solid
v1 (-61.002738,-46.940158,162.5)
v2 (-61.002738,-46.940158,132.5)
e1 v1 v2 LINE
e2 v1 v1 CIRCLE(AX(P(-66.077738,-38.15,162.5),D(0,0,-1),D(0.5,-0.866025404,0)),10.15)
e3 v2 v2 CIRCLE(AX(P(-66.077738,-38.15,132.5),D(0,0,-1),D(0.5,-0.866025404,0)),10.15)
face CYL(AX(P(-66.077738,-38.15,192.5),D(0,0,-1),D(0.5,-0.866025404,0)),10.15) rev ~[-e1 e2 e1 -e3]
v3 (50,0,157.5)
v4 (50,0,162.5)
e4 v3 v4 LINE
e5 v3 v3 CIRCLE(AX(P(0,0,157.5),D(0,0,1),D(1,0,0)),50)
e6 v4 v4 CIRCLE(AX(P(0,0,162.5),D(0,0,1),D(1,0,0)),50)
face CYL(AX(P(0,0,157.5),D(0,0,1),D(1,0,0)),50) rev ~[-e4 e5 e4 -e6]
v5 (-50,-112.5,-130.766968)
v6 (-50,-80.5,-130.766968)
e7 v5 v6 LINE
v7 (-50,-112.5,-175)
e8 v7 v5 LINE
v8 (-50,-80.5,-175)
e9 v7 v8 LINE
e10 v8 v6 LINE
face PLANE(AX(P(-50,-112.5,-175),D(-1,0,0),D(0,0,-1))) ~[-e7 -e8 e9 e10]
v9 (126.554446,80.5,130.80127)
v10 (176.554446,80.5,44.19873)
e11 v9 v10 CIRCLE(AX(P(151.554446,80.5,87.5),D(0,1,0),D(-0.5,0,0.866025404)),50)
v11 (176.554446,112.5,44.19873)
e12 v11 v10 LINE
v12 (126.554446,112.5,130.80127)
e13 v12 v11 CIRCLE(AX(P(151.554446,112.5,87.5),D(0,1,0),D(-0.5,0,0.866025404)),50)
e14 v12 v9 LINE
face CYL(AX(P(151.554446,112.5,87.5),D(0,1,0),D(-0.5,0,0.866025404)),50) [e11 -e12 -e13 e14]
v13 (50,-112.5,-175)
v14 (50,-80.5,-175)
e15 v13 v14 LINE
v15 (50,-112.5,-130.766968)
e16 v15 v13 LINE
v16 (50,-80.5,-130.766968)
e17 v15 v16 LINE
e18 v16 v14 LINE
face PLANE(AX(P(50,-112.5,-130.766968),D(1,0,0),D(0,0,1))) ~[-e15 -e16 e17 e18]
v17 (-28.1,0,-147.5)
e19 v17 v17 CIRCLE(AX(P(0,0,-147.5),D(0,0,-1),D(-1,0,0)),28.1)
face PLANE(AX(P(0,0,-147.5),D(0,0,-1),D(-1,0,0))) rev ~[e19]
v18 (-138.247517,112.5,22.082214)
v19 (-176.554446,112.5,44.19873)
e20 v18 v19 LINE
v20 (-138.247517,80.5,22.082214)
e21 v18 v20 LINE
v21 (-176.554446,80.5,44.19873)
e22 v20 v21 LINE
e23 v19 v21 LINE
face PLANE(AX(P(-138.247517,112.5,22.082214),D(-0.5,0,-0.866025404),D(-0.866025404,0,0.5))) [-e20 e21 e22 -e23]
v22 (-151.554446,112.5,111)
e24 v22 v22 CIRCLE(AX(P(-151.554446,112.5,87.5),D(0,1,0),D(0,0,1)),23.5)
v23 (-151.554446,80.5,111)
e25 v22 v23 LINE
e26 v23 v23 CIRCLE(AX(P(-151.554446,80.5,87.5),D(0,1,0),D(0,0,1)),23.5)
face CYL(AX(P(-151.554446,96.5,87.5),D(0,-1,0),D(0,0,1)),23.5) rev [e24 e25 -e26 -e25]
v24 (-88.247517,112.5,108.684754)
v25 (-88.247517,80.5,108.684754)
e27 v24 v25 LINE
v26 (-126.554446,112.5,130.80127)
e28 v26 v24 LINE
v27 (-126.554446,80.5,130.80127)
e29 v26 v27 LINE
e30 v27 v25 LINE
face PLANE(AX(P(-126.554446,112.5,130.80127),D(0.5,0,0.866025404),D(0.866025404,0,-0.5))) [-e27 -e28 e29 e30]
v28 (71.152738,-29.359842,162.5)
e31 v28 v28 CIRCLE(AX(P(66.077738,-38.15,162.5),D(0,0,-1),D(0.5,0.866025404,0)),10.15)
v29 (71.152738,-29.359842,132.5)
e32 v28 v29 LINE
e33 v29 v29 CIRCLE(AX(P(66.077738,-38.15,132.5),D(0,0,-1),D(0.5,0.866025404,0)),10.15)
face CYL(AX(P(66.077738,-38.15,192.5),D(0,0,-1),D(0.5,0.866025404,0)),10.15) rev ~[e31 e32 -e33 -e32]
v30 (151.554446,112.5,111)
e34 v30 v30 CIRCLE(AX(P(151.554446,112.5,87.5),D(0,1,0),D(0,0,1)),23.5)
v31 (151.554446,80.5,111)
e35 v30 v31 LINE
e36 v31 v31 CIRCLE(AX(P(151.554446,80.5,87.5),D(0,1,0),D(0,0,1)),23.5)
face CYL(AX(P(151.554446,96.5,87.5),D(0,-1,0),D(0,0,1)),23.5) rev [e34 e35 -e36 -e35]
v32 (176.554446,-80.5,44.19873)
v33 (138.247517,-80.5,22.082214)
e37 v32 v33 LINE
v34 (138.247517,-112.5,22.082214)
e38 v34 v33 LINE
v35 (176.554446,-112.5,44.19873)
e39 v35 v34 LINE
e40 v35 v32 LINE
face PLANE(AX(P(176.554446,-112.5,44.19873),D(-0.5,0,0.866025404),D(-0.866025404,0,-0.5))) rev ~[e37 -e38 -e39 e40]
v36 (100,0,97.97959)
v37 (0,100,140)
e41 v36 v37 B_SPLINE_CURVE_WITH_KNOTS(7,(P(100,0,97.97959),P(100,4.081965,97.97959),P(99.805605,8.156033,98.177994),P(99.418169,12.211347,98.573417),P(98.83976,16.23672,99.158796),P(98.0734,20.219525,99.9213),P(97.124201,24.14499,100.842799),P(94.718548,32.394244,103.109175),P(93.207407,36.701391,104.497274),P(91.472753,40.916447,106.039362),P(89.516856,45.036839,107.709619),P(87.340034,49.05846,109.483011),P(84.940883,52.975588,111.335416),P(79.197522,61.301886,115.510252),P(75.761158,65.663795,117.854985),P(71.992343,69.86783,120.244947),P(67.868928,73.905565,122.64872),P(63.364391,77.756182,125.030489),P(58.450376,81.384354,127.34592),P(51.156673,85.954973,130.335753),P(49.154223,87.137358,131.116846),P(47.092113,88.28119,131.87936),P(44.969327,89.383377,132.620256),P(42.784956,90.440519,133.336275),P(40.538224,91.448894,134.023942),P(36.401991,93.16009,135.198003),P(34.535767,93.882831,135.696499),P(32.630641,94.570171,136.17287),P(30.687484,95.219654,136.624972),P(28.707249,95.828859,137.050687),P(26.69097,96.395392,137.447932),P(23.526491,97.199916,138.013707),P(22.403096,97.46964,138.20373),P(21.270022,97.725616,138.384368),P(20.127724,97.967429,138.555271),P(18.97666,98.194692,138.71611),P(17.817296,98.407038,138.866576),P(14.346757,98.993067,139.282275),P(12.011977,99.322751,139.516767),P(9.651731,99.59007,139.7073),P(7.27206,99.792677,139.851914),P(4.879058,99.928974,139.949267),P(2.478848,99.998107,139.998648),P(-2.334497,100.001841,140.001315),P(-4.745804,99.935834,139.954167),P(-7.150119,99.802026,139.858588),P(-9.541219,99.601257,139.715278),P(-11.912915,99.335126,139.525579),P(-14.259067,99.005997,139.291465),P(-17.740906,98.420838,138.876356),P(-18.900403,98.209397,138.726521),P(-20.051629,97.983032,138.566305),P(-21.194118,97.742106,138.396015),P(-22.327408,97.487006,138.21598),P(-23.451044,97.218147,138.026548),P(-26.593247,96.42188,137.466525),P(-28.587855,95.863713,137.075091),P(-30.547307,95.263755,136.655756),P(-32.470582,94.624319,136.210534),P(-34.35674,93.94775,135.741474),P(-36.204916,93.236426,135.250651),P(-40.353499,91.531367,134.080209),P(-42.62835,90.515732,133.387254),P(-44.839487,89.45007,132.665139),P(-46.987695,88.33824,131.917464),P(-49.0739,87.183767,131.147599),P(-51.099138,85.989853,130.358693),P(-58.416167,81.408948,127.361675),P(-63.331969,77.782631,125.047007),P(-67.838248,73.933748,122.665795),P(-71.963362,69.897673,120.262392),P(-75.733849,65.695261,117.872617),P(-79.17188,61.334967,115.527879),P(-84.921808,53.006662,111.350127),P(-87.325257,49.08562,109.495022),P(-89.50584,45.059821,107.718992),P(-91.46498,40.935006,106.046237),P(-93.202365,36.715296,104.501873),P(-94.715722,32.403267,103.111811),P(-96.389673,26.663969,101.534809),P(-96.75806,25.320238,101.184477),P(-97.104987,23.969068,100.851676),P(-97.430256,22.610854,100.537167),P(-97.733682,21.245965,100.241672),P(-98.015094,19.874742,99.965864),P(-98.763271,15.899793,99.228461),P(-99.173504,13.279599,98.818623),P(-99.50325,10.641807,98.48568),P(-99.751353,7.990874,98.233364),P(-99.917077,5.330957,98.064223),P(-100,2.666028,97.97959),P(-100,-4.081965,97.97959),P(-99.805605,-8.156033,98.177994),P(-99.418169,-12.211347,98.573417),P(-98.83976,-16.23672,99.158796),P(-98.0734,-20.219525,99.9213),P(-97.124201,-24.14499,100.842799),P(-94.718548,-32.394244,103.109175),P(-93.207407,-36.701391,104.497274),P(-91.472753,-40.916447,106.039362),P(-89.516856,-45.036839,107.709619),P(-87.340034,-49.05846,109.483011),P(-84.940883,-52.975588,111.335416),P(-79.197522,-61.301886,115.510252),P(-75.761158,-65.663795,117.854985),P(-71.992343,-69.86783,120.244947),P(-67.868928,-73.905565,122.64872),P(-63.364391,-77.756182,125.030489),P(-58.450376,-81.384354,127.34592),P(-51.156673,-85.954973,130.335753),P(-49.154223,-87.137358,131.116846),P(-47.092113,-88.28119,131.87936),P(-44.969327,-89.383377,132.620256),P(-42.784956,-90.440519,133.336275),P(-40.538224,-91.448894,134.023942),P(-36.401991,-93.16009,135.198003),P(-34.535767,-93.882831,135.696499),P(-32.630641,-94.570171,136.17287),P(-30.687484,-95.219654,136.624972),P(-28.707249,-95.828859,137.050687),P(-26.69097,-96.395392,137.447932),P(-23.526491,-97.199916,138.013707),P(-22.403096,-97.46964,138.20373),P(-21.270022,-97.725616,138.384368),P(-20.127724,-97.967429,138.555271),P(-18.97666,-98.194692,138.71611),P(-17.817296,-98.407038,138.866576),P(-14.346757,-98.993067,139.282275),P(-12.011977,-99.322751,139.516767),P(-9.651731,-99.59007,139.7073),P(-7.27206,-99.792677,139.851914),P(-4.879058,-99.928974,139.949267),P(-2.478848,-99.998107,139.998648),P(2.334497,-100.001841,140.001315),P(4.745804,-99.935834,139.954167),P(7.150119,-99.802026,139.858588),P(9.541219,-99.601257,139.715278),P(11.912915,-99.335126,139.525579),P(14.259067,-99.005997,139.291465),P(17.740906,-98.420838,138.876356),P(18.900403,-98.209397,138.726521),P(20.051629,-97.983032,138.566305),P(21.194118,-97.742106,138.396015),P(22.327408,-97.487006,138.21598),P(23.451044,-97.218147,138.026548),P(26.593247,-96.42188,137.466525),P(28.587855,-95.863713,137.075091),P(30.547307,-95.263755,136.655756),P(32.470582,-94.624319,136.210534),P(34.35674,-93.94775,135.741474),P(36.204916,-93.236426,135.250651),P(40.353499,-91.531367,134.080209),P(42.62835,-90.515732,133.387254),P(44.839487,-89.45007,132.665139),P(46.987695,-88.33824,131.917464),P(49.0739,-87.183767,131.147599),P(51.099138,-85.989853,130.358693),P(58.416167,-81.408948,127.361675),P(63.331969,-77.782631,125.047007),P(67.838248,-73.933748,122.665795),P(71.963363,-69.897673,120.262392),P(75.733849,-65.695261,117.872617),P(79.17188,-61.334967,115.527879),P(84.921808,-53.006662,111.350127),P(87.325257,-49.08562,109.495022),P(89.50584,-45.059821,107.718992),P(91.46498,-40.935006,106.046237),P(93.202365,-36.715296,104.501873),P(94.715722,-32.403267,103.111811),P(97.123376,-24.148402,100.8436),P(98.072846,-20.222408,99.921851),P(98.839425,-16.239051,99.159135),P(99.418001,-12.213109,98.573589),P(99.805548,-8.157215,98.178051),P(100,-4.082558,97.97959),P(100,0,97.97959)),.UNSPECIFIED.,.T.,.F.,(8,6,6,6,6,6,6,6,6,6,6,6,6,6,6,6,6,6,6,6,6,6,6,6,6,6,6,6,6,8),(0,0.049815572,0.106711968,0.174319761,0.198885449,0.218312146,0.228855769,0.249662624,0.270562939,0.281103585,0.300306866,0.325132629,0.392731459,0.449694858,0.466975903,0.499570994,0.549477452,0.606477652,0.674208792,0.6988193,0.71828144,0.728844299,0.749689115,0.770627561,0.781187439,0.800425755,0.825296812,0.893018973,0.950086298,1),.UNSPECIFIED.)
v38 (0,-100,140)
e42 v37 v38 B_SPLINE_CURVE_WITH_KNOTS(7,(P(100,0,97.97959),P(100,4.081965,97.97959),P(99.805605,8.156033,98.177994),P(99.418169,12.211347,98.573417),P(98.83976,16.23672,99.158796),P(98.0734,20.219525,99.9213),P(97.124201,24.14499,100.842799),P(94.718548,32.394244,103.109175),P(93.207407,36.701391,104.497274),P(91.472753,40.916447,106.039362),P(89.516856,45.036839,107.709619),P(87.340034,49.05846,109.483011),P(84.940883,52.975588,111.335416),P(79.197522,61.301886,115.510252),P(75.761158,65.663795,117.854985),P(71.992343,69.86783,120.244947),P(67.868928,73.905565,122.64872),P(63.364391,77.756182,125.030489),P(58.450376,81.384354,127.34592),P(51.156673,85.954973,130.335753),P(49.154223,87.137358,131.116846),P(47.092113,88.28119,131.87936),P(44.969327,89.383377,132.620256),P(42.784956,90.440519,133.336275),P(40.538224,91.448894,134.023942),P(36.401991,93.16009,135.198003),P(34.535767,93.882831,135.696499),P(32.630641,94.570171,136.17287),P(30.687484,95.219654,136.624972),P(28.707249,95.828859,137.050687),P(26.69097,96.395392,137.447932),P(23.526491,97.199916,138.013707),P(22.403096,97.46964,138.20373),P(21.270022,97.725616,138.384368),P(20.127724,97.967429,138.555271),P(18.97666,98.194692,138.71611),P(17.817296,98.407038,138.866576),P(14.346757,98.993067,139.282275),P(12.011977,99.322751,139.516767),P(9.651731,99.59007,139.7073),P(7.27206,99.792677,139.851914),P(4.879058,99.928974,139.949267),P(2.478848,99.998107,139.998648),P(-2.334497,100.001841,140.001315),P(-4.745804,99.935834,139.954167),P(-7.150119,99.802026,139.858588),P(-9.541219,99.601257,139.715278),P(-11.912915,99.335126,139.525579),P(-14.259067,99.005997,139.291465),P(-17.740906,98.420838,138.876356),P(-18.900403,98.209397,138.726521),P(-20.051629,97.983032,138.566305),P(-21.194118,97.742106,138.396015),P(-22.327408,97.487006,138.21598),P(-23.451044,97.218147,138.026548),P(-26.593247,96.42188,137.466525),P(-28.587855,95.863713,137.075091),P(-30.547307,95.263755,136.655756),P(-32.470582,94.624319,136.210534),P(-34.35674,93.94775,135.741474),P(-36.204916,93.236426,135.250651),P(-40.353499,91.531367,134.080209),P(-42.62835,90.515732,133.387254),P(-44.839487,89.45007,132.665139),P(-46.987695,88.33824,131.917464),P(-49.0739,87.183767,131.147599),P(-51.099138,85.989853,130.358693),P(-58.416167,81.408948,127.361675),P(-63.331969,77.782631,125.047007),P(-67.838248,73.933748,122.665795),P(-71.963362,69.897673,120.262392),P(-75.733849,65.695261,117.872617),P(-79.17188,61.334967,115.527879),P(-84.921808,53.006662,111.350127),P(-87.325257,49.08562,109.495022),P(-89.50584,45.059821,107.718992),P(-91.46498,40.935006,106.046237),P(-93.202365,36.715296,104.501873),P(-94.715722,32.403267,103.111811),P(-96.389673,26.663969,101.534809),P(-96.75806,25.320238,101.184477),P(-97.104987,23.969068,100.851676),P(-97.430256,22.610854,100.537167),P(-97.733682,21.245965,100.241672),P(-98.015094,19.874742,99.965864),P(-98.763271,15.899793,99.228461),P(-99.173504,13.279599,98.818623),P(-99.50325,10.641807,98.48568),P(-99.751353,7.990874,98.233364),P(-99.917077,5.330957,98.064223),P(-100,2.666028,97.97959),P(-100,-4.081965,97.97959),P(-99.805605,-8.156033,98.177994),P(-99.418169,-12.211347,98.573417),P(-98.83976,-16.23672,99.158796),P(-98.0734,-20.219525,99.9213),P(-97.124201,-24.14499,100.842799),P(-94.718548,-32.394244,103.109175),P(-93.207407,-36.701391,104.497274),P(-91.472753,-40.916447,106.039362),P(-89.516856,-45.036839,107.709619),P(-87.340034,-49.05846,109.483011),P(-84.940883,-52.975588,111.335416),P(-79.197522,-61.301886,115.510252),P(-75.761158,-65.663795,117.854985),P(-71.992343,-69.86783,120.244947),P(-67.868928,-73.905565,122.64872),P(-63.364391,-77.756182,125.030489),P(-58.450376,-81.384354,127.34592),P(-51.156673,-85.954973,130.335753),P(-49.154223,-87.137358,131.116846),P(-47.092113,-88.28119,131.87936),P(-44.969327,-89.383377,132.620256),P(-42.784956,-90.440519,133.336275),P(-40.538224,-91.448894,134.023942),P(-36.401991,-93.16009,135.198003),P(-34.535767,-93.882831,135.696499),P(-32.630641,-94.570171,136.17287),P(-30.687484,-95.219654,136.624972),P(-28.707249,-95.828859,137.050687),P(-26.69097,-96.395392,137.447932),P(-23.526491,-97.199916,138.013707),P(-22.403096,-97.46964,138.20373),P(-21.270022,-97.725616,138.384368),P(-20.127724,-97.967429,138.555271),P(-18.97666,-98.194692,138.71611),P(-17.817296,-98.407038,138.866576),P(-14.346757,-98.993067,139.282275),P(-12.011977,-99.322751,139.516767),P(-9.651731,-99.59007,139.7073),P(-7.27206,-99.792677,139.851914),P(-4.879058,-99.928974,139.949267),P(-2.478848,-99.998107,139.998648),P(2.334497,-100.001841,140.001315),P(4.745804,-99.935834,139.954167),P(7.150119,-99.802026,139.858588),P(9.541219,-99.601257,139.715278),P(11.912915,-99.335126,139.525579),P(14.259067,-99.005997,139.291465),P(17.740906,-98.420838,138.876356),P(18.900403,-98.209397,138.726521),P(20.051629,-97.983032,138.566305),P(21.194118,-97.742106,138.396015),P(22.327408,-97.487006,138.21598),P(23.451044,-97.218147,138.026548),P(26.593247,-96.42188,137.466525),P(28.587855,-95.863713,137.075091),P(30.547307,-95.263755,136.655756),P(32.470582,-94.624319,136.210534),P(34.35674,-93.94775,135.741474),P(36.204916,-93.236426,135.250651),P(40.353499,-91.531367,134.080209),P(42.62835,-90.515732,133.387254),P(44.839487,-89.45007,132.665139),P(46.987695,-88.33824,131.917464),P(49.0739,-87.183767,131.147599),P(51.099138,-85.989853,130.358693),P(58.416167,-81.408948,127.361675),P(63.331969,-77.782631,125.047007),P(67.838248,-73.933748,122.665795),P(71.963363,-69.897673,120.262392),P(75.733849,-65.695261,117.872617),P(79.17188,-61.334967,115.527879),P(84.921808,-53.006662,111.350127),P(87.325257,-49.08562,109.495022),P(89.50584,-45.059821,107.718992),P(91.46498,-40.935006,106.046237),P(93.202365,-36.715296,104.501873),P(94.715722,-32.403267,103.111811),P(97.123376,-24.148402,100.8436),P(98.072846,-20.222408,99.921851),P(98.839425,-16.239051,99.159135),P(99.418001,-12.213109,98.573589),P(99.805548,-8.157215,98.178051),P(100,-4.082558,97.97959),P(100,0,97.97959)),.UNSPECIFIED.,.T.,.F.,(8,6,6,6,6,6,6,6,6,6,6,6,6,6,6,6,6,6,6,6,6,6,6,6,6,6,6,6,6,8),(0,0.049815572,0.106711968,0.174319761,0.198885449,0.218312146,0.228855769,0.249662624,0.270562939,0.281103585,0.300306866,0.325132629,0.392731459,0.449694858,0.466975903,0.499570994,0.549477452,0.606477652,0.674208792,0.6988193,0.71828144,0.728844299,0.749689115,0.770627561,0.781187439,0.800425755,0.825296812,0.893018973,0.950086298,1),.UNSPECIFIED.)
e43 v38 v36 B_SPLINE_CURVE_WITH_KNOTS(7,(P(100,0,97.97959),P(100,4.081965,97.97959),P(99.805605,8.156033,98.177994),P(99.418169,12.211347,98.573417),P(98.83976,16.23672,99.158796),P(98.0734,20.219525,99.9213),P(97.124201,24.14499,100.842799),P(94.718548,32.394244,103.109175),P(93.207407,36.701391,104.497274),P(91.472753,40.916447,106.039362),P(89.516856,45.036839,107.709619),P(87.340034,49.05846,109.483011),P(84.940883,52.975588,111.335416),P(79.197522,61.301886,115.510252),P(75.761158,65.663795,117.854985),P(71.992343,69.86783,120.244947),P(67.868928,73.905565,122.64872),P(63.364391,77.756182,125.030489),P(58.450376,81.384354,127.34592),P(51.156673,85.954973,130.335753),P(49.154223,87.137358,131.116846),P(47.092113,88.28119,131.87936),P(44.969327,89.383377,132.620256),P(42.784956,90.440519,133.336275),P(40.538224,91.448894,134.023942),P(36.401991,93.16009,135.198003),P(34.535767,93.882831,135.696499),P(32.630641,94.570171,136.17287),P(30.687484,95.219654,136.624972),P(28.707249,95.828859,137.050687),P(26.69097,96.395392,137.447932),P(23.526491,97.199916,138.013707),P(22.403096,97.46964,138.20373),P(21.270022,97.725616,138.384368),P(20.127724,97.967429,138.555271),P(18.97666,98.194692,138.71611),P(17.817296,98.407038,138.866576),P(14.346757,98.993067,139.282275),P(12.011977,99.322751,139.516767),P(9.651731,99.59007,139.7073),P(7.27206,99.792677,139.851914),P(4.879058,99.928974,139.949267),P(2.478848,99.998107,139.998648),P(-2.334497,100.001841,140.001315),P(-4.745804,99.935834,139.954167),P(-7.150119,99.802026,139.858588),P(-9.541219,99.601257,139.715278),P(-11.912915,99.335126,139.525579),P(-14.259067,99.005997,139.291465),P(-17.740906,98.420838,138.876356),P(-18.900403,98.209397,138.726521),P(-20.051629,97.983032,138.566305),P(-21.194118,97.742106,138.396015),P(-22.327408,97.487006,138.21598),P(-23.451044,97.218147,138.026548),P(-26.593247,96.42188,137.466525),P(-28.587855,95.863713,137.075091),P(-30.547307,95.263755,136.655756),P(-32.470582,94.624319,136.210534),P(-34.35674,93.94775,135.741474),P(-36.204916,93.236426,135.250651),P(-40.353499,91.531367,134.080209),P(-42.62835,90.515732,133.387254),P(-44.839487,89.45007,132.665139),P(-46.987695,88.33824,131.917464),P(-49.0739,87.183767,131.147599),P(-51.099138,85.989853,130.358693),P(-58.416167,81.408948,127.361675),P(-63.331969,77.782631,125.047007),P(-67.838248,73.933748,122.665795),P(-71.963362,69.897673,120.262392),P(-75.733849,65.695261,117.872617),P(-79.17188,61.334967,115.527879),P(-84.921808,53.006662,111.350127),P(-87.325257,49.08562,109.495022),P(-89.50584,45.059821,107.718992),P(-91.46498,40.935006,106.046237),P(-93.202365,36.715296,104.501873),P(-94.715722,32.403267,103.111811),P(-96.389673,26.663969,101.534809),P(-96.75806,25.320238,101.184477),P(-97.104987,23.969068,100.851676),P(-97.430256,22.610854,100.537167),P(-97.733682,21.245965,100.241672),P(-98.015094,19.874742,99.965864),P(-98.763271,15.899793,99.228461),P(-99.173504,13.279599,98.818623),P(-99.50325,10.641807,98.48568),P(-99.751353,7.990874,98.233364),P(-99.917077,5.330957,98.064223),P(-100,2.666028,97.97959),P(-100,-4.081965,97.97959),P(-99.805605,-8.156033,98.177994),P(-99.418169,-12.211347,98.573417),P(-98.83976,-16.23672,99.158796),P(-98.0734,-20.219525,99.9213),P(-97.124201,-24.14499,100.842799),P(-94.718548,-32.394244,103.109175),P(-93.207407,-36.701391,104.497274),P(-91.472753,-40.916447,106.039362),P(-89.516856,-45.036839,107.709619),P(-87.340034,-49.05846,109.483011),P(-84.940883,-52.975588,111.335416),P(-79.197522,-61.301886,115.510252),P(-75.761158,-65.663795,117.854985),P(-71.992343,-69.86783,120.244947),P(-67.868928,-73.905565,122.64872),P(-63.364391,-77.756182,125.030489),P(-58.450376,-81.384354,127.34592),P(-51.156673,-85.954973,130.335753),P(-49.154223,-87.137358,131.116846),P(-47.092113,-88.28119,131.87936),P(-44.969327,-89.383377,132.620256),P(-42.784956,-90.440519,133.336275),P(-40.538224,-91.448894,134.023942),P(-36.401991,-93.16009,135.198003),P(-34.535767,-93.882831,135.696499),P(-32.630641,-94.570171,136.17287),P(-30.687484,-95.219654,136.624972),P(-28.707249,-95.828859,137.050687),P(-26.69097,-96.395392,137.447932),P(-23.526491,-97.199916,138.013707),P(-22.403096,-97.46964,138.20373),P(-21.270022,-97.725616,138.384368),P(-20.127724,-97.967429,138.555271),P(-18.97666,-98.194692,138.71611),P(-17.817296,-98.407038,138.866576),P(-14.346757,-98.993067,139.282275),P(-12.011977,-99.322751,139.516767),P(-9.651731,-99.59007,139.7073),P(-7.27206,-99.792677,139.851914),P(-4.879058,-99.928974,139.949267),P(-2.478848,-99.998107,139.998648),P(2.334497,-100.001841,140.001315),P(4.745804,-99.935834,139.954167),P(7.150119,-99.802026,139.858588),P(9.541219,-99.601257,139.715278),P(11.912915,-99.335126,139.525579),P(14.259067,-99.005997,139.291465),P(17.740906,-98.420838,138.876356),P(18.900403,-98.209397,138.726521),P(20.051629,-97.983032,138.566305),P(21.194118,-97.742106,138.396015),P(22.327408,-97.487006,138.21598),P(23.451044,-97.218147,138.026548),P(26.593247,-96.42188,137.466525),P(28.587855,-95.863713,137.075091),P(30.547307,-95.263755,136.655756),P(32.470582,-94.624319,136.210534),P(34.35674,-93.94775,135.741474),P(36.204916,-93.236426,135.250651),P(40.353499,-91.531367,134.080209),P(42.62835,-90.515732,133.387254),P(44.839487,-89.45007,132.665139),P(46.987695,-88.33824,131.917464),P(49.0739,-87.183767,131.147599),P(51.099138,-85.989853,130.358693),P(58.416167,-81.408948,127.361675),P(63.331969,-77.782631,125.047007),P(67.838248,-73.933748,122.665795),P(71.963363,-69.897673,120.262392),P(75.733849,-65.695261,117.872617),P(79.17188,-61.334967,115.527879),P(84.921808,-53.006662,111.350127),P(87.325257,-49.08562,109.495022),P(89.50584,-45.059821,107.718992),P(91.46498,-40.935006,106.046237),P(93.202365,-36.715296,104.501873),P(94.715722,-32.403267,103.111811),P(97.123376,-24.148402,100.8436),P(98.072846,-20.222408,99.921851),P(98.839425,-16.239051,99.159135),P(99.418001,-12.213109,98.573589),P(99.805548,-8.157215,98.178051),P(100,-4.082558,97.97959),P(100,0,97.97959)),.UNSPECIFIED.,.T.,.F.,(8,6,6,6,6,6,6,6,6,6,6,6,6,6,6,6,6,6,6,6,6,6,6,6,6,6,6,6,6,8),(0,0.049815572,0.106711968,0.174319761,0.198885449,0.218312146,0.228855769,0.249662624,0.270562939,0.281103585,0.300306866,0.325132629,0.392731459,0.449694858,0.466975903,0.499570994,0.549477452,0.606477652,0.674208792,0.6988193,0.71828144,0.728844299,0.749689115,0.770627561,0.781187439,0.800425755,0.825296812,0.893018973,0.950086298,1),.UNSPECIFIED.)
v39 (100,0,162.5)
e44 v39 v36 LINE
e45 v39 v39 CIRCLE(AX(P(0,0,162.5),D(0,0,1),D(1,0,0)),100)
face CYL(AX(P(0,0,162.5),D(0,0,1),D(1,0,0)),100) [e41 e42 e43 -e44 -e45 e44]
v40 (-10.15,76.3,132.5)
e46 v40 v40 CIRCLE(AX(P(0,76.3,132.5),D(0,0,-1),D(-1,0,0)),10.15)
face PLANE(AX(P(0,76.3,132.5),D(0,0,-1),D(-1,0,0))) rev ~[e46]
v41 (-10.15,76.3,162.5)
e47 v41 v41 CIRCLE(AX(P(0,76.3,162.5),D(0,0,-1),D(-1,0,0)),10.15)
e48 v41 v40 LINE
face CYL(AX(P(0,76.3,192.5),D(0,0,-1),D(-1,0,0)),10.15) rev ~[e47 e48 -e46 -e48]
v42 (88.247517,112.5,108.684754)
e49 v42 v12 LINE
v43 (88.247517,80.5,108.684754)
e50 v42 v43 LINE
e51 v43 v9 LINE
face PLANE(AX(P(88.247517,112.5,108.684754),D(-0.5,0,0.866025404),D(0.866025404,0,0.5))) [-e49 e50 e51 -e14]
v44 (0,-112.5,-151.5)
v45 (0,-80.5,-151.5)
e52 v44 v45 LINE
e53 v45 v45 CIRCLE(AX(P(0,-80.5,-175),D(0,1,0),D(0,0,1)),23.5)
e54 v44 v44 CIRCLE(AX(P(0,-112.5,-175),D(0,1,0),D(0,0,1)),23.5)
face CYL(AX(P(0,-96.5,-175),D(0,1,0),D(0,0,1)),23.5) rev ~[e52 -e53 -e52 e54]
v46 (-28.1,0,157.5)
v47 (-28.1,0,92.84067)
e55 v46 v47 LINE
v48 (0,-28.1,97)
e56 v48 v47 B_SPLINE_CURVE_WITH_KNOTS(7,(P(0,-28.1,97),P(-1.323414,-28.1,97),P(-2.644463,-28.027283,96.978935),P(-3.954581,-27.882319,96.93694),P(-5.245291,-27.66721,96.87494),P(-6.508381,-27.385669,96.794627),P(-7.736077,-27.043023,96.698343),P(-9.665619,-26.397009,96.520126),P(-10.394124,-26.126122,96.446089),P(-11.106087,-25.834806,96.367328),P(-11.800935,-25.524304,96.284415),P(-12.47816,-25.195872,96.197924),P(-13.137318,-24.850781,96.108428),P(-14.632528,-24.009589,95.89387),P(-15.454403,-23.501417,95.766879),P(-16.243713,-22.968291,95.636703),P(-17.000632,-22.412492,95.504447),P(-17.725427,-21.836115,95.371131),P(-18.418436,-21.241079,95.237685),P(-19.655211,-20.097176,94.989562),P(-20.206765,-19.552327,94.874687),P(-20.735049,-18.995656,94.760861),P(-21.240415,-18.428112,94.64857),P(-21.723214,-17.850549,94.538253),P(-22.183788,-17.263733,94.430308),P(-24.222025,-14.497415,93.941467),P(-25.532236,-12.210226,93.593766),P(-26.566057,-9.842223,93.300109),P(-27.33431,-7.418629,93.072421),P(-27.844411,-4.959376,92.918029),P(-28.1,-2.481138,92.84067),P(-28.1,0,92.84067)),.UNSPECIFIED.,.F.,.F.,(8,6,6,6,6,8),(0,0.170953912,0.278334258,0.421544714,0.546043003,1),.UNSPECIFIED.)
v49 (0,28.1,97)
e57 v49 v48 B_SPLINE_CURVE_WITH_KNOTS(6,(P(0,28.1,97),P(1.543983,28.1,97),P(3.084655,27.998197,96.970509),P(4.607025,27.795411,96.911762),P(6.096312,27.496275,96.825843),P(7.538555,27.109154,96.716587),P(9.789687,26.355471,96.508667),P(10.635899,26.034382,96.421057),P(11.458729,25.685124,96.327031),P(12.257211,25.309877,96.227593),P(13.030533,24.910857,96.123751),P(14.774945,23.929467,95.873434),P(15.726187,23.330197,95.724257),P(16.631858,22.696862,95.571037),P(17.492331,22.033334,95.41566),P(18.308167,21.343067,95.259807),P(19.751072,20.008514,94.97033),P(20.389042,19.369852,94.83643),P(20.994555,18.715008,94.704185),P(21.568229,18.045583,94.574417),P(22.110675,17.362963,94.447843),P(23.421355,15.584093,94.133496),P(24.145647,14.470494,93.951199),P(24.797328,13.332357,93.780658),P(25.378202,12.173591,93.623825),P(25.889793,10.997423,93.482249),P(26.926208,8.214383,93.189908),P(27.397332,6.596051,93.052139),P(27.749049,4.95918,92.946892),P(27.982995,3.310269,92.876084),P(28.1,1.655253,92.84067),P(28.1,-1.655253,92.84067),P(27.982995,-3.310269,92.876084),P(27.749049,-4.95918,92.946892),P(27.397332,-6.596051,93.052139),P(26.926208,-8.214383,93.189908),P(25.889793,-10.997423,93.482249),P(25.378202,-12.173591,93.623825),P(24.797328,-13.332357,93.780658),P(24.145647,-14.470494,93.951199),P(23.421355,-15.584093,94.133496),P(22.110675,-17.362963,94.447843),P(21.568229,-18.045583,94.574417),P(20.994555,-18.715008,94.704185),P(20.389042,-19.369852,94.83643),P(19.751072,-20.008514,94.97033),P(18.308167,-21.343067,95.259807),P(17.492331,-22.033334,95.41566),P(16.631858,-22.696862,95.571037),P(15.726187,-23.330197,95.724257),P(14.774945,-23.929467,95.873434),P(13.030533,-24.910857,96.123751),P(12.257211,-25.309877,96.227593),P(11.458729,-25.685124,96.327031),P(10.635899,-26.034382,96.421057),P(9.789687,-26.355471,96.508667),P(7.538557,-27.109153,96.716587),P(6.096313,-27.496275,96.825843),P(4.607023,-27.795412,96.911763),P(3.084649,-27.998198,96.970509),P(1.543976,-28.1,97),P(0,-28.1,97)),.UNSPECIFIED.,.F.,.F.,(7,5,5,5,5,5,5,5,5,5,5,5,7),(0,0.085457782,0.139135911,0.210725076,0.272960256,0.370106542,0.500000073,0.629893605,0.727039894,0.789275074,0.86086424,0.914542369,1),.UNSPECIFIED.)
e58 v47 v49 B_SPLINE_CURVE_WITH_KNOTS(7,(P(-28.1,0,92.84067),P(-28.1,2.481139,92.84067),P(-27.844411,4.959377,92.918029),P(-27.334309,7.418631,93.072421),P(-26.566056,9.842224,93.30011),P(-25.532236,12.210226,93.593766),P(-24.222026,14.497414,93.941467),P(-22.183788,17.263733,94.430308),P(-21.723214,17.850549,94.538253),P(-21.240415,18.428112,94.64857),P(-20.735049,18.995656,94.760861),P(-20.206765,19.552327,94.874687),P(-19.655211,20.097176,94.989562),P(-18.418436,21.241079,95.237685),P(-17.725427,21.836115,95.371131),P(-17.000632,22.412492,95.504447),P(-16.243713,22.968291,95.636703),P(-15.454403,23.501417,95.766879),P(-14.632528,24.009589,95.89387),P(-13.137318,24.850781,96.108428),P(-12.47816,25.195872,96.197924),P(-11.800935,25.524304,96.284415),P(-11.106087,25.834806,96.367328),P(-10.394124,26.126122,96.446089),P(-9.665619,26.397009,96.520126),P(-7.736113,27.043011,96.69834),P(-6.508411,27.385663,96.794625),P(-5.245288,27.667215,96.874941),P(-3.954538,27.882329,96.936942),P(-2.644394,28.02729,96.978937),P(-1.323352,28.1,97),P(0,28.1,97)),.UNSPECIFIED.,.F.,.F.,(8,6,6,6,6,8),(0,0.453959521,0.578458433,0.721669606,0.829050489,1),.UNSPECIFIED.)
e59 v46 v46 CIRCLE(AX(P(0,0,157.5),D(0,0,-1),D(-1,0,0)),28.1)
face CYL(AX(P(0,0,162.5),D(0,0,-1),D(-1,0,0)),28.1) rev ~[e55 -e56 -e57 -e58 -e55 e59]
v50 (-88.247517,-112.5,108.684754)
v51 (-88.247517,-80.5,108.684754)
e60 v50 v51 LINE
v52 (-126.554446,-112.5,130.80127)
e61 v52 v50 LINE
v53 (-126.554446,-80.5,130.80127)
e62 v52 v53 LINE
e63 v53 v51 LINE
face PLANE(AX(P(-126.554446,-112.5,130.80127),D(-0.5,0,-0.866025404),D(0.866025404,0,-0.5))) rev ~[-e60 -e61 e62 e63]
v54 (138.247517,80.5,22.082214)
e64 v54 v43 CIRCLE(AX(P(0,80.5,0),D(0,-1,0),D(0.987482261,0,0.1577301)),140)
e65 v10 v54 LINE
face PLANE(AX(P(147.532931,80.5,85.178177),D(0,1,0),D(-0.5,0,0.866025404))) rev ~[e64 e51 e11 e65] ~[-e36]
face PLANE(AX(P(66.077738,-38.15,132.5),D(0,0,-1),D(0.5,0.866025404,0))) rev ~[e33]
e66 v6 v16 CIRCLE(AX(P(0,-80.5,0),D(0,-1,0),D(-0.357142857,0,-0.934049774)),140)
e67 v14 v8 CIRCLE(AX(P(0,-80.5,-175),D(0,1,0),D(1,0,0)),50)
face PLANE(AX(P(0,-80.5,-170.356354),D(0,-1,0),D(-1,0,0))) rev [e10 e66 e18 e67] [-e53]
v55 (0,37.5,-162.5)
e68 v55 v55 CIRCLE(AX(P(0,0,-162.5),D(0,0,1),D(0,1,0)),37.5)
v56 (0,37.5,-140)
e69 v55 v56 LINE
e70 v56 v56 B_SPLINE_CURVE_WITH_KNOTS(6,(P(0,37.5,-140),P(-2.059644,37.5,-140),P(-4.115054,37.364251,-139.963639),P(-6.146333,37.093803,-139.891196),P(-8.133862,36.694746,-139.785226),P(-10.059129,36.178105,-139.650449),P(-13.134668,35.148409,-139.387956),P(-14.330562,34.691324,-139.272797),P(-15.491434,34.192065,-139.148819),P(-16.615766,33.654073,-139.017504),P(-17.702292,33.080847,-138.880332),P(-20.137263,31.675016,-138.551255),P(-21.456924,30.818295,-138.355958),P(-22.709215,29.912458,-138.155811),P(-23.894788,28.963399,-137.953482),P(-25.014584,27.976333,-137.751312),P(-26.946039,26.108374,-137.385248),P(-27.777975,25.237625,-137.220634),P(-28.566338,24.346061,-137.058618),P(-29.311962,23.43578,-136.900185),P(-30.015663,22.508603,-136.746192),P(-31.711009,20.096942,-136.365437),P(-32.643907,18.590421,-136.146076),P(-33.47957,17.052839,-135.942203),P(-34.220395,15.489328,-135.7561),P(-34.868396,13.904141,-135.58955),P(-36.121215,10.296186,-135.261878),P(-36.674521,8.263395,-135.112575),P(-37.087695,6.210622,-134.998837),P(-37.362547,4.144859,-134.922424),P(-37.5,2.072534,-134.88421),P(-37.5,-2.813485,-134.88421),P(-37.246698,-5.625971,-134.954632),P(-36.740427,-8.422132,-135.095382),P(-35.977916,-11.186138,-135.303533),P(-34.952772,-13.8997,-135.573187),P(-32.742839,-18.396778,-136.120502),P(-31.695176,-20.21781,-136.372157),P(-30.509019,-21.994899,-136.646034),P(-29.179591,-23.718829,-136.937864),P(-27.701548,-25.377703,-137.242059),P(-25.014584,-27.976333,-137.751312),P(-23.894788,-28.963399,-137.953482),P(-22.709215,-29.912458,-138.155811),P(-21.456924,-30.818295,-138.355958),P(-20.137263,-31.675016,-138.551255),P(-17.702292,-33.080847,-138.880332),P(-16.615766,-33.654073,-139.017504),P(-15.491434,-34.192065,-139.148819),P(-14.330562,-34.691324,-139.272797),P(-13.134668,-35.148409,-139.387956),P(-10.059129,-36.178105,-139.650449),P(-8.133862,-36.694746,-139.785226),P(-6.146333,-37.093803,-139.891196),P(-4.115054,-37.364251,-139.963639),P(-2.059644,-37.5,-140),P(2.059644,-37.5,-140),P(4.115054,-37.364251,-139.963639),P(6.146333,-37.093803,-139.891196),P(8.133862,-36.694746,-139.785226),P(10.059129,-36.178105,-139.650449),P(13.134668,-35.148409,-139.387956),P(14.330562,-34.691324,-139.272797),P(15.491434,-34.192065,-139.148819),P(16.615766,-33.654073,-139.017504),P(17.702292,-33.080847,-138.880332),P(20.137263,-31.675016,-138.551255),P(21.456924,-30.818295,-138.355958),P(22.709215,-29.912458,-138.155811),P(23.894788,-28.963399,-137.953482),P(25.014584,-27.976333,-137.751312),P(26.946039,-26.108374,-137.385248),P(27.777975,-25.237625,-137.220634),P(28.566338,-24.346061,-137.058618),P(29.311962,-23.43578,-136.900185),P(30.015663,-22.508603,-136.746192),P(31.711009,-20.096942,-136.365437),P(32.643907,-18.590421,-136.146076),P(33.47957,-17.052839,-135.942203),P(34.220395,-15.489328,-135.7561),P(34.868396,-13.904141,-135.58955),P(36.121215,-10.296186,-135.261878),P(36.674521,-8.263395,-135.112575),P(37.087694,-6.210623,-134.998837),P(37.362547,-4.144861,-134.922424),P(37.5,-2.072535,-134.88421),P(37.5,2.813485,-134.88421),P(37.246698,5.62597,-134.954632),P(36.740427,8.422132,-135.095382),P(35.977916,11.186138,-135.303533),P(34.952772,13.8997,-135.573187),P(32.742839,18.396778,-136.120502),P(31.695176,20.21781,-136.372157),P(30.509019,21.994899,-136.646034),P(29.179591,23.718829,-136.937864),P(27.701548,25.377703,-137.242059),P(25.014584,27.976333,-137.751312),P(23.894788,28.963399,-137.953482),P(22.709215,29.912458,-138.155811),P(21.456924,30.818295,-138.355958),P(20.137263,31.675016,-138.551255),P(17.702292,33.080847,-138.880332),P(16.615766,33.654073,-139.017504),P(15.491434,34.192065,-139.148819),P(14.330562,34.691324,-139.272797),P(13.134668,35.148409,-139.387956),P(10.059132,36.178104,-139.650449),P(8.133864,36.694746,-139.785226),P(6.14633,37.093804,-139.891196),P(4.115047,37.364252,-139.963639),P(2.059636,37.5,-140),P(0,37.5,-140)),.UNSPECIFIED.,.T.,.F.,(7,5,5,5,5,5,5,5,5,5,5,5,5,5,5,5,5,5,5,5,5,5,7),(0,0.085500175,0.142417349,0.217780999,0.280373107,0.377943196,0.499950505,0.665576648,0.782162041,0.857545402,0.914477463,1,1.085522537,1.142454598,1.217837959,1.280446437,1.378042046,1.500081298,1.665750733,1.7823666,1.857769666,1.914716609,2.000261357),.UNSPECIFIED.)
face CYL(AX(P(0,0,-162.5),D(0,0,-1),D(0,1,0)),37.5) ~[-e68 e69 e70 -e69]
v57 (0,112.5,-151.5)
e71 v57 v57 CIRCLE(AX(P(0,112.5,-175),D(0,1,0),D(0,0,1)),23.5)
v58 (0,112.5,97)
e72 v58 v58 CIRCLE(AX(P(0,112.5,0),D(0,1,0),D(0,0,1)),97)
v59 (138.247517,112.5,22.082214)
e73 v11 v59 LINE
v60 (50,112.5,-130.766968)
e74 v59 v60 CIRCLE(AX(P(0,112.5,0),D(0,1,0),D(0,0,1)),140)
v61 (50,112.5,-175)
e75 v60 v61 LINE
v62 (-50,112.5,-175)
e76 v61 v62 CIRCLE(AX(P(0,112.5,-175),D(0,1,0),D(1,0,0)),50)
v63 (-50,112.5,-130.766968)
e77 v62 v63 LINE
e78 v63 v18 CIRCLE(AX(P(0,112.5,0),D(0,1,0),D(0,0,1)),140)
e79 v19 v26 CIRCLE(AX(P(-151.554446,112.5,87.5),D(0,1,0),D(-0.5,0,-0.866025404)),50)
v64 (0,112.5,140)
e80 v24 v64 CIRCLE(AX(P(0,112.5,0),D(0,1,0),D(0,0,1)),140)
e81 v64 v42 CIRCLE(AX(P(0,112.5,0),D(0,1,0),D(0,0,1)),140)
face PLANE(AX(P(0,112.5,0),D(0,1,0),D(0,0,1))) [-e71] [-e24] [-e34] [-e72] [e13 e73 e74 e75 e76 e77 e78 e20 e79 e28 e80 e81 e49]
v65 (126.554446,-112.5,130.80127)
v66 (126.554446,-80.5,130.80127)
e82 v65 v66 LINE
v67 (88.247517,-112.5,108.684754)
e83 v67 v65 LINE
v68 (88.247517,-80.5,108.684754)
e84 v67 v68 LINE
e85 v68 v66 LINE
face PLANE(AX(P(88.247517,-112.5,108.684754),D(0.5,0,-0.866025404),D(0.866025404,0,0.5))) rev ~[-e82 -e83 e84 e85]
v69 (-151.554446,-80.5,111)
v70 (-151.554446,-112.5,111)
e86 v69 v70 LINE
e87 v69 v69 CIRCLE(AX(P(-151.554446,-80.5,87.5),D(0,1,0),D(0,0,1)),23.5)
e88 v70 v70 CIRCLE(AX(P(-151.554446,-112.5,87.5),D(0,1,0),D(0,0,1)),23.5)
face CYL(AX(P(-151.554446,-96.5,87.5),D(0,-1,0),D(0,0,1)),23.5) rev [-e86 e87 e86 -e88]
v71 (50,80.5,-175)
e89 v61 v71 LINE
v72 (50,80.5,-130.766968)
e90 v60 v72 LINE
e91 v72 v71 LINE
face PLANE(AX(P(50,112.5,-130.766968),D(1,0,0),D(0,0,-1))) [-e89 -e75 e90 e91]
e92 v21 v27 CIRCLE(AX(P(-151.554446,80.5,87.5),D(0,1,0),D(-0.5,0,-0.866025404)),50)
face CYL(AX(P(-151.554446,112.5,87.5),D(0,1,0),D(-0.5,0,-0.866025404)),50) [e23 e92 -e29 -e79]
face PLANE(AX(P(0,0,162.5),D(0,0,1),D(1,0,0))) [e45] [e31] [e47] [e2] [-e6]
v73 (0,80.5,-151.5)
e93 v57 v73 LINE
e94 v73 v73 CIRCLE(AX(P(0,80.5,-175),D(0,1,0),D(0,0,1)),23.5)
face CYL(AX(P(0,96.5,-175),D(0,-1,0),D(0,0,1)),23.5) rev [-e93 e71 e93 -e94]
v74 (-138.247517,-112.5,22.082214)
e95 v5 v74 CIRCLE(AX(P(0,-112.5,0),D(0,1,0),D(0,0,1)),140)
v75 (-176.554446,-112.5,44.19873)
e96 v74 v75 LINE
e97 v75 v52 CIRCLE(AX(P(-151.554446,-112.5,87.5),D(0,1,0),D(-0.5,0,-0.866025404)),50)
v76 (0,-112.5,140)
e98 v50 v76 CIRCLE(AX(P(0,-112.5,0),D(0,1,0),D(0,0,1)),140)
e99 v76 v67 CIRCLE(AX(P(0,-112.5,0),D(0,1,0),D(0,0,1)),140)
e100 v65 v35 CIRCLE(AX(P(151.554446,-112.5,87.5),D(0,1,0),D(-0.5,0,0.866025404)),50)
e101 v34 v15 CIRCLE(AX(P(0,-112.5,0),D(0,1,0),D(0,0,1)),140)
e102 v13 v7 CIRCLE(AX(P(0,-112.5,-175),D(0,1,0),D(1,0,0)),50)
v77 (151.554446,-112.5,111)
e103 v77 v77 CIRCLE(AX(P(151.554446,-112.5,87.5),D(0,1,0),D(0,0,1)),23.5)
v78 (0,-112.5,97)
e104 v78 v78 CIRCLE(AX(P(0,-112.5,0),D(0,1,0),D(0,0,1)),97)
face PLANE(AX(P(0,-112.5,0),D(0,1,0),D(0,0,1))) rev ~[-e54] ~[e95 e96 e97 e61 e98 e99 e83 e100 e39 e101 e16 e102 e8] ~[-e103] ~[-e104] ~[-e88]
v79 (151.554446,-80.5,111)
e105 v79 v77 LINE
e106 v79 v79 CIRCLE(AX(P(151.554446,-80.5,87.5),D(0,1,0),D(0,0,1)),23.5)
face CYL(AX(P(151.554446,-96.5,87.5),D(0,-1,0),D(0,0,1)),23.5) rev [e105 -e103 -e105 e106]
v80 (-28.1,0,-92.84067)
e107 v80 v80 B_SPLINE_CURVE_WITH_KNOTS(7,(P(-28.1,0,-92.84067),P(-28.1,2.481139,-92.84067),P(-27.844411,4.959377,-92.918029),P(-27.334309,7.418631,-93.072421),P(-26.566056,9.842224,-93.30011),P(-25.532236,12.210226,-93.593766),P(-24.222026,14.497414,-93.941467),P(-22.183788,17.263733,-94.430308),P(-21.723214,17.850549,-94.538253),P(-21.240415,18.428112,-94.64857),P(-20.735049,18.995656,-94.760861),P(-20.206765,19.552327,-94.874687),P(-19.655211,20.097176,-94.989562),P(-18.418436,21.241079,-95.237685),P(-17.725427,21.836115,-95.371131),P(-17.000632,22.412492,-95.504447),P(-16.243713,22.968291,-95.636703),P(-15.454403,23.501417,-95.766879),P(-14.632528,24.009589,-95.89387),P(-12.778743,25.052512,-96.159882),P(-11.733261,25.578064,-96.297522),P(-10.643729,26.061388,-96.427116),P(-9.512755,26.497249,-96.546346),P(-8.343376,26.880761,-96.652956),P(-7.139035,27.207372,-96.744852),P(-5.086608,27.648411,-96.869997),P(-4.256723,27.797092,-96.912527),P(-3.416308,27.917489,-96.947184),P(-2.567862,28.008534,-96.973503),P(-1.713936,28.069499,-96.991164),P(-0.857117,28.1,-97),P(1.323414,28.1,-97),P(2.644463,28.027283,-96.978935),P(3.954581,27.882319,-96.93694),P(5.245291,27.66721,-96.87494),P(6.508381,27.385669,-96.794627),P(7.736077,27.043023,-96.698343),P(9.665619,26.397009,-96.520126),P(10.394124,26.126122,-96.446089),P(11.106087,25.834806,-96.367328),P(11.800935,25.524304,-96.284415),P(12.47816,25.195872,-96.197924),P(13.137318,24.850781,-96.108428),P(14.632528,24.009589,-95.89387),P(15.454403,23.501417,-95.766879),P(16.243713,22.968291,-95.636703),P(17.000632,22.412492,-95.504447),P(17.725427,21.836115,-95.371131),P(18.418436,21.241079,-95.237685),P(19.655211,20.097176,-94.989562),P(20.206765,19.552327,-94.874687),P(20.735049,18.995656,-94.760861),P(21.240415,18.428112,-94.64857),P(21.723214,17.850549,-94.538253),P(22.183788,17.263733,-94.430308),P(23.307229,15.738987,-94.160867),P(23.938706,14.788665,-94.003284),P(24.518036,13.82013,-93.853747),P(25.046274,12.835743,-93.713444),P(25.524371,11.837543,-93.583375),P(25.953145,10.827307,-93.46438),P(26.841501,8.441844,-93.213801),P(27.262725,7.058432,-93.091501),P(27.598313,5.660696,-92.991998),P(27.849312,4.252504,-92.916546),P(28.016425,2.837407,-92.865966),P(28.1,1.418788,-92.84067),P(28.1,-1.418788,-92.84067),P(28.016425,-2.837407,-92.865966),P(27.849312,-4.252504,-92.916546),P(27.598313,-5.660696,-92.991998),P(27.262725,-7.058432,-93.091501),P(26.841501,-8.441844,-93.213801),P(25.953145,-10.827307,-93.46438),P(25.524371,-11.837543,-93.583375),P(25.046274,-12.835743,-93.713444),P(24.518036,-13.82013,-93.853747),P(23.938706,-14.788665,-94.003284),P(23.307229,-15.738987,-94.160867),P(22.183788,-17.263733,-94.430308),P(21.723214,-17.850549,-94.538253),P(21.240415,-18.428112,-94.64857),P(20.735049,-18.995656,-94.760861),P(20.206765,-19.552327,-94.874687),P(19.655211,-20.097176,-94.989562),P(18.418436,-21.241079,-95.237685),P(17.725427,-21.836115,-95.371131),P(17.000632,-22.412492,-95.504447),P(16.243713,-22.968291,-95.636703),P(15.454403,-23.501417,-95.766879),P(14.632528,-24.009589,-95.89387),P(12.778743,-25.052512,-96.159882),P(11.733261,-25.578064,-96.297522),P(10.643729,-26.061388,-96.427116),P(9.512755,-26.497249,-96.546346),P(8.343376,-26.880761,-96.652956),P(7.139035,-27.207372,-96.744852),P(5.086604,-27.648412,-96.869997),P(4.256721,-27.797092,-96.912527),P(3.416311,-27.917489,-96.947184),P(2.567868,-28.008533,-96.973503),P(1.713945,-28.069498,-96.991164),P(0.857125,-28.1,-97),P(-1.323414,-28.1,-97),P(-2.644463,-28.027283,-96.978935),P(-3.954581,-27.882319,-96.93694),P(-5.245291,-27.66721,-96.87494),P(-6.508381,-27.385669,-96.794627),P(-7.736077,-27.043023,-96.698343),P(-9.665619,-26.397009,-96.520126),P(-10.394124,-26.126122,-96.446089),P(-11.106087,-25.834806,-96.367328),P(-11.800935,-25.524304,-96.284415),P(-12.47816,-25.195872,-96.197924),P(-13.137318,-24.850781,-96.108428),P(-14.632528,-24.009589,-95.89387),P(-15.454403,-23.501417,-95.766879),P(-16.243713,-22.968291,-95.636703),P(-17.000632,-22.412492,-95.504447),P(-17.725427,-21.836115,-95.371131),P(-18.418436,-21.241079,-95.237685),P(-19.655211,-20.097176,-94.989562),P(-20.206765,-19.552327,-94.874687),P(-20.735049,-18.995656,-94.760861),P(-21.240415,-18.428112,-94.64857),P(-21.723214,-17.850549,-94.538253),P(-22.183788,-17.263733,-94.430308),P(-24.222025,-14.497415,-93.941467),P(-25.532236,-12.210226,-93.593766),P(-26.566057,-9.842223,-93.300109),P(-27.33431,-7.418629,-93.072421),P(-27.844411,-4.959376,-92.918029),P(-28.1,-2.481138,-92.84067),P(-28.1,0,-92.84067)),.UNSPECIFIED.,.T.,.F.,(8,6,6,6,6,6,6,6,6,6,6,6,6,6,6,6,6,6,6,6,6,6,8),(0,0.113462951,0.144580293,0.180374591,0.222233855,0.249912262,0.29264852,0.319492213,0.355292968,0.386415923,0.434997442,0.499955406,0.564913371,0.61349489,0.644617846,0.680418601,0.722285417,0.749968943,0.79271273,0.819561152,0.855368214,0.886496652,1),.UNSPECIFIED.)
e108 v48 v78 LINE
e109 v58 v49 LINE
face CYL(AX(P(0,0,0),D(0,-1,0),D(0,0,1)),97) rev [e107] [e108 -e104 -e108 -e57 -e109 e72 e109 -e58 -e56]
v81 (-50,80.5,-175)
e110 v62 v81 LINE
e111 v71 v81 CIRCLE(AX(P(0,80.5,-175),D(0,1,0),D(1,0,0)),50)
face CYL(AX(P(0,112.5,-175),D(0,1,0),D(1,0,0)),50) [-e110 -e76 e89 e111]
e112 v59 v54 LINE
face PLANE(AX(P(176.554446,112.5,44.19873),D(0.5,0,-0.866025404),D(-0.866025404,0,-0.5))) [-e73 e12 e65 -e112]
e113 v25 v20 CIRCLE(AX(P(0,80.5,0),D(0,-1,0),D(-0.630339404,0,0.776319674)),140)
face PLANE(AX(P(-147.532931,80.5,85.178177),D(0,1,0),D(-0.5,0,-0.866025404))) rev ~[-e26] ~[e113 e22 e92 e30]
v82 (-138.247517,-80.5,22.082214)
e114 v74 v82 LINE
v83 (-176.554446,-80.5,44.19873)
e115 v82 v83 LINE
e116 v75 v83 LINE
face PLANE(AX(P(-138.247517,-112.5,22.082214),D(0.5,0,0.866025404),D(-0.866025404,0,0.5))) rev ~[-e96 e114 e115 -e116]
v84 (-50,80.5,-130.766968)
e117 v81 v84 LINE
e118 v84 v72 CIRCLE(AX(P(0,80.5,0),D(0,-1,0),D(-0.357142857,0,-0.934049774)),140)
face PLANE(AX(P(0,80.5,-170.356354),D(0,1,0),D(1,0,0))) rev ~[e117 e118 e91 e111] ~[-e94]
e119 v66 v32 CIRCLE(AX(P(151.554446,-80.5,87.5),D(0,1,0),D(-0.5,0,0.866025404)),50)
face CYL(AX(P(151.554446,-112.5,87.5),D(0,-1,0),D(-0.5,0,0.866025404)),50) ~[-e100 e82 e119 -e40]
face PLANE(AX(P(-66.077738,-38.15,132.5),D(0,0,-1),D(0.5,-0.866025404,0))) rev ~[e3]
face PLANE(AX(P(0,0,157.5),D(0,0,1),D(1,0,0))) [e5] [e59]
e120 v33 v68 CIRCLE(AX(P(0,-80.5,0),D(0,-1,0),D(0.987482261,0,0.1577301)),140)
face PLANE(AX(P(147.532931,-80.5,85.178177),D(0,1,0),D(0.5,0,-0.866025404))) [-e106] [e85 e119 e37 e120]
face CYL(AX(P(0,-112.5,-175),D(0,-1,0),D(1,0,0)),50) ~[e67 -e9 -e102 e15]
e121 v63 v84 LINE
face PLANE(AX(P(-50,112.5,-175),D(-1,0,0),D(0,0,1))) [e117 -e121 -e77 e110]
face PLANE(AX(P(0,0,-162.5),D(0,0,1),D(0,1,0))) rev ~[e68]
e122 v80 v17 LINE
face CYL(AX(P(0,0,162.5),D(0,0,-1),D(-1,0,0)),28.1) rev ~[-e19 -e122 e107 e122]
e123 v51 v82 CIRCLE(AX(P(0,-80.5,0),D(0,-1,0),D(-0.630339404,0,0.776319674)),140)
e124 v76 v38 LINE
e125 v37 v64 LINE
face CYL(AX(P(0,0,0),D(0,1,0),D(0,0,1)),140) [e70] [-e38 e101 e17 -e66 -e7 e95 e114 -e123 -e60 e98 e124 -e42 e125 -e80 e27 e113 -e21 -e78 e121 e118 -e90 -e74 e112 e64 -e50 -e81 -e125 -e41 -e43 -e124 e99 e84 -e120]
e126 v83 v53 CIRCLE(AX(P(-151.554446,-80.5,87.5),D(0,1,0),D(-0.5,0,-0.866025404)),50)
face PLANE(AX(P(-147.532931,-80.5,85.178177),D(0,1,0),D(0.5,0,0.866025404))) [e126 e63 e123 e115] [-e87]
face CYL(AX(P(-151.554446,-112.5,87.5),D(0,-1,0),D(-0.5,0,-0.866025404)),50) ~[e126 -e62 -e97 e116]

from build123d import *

# Parameters (mm, degrees)
SKETCH1_R                = 140
SKETCH1_R_2              = 97
BOSS_EXTRUDE1_DEPTH      = 112.5
BOSS_EXTRUDE2_REACH      = 353.799
BOSS_EXTRUDE2_END_RADIUS = 140
SKETCH2_R                = 100
BOSS_EXTRUDE3_REACH      = 373.324
BOSS_EXTRUDE3_END_RADIUS = 140
SKETCH3_R                = 37.5
HOLE1_D                  = 20.3
HOLE1_DEPTH              = 30
CIRPATTERN2_COUNT        = 3
HOLE2_D                  = 56.2
HOLE2_DEPTH              = 310
HOLE2_CBORE_D            = 100
HOLE2_CBORE_DEPTH        = 5
BOSS_EXTRUDE6_DEPTH      = 32
CIRPATTERN5_COUNT        = 3
SKETCH16_W               = 23.5
SKETCH16_H               = 32
HOLE3_AT_2_COUNT         = 2
HOLE3_AT_2_PITCH         = 303.108891325
HOLE3_AT_3_COUNT         = 2
HOLE3_AT_3_PITCH         = 303.108891325
MIRROR1_COPY_1_DEPTH     = 32
MIRROR1_COPY_2_DEPTH     = 32
MIRROR1_COPY_3_SKETCH_W  = 23.5
MIRROR1_COPY_3_SKETCH_H  = 32
MIRROR1_COPY_4_SKETCH_W  = 23.5
MIRROR1_COPY_4_SKETCH_H  = 32


with BuildPart() as part:
    # Sketch1 → Boss-Extrude1 (new, symmetric)
    with BuildSketch(Plane(origin=(0, 0, 0), x_dir=(1, 0, 0), z_dir=(0, 1, 0))):
        with Locations(Location((0, 0, 0), (0, 0, 270))):
            Circle(SKETCH1_R)
        with Locations(Location((0, 0, 0), (0, 0, 270))):
            Circle(SKETCH1_R_2, mode=Mode.SUBTRACT)
    extrude(amount=BOSS_EXTRUDE1_DEPTH, both=True)

    # Boss-Extrude2: up to this cylinder (the profile starts outside it)
    boss_extrude2_end = Plane(origin=(0, 0, 0), z_dir=(0, -1, 0)) * Cylinder(BOSS_EXTRUDE2_END_RADIUS, 988.598, mode=Mode.PRIVATE)
    # Sketch2 → Boss-Extrude2 (add, up to the surface)
    with BuildSketch(Plane.XY.offset(162.5), mode=Mode.PRIVATE) as boss_extrude2_sk1:
        Circle(SKETCH2_R)
    boss_extrude2_tool1 = extrude(boss_extrude2_sk1.sketch, amount=-BOSS_EXTRUDE2_REACH, mode=Mode.PRIVATE) - boss_extrude2_end
    add(boss_extrude2_tool1.solids().sort_by_distance((0, 0, 162.5))[0])

    # Boss-Extrude3: up to this cylinder (the profile starts outside it)
    boss_extrude3_end = Plane(origin=(0, 0, 0), z_dir=(0, -1, 0)) * Cylinder(BOSS_EXTRUDE3_END_RADIUS, 1027.648, mode=Mode.PRIVATE)
    # Sketch3 → Boss-Extrude3 (add, up to the surface)
    with BuildSketch(Plane.XY.offset(-162.5), mode=Mode.PRIVATE) as boss_extrude3_sk1:
        with Locations(Location((0, 0, 0), (0, 0, 90))):
            Circle(SKETCH3_R)
    boss_extrude3_tool1 = extrude(boss_extrude3_sk1.sketch, amount=BOSS_EXTRUDE3_REACH, mode=Mode.PRIVATE) - boss_extrude3_end
    add(boss_extrude3_tool1.solids().sort_by_distance((0, 0, -162.5))[0])

    # Hole1
    with Locations(Plane.XY.offset(162.5)):
        with Locations((0, 76.3)):
            hole1 = Hole(HOLE1_D / 2, depth=HOLE1_DEPTH)

    # CirPattern2: Hole1 ×3 about axis
    cirpattern2_axis = Axis((0, 0, 0), (0, 0, 1))
    for i in range(1, CIRPATTERN2_COUNT):
        add(hole1.rotate(cirpattern2_axis, i * 360 / CIRPATTERN2_COUNT), mode=Mode.SUBTRACT)

    # Hole2
    with Locations(Plane.XY.offset(162.5)):
        with Locations((0, 0)):
            CounterBoreHole(HOLE2_D / 2, HOLE2_CBORE_D / 2, HOLE2_CBORE_DEPTH, depth=HOLE2_DEPTH)

    # Sketch10 → Boss-Extrude6 (add)
    with BuildSketch(Plane(origin=(0, 112.5, 0), x_dir=(1, 0, 0), z_dir=(0, 1, 0))):
        with BuildLine():
            Line((50, 130.766968306), (50, 175))
            ThreePointArc((50, 175), (0, 225), (-50, 175))
            Line((-50, 175), (-50, 130.766968306))
            ThreePointArc((-50, 130.766968306), (0, 140), (50, 130.766968306))
        make_face()
    boss_extrude6 = extrude(amount=-BOSS_EXTRUDE6_DEPTH)

    # CirPattern5: Boss-Extrude6 ×3 about axis
    cirpattern5_axis = Axis((0, 0, 0), (0, 1, 0))
    for i in range(1, CIRPATTERN5_COUNT):
        add(boss_extrude6.rotate(cirpattern5_axis, i * 360 / CIRPATTERN5_COUNT))

    # Sketch16 → Hole3 (revolve, cut)
    with BuildSketch(Plane(origin=(0, 112.5, -175), x_dir=(0, 0, 1), z_dir=(1, 0, 0))):
        with Locations((11.75, 16)):
            Rectangle(SKETCH16_W, SKETCH16_H)
    hole3 = revolve(axis=Axis((0, 2.5, -175), (0, 1, 0)), mode=Mode.SUBTRACT)

    # Hole3 at 2: Hole3 ×2
    with Locations(*[Vector(0.500000000000004, 0, 0.8660254037844364) * (i * HOLE3_AT_2_PITCH) for i in range(1, HOLE3_AT_2_COUNT)]):
        add(hole3, mode=Mode.SUBTRACT)

    # Hole3 at 3: Hole3 ×2
    with Locations(*[Vector(-0.49999999999999806, 0, 0.8660254037844397) * (i * HOLE3_AT_3_PITCH) for i in range(1, HOLE3_AT_3_COUNT)]):
        add(hole3, mode=Mode.SUBTRACT)

    # Mirror1: Boss-Extrude6, Hole3 across plane
    add(boss_extrude6.mirror(Plane.ZX))
    add(hole3.mirror(Plane.ZX), mode=Mode.SUBTRACT)

    # Mirror1 copy 1 sketch → Mirror1 copy 1 (add)
    with BuildSketch(Plane(origin=(0, -112.5, 0), x_dir=(-0.4999999999999998, 0, -0.8660254037844387), z_dir=(0, -1, 0))):
        with BuildLine():
            Line((50, -130.766968306), (50, -175))
            ThreePointArc((50, -175), (0, -225), (-50, -175))
            Line((-50, -175), (-50, -130.766968306))
            ThreePointArc((-50, -130.766968306), (0, -140), (50, -130.766968306))
        make_face()
    extrude(amount=-MIRROR1_COPY_1_DEPTH)

    # Mirror1 copy 2 sketch → Mirror1 copy 2 (add)
    with BuildSketch(Plane(origin=(0, -112.5, 0), x_dir=(-0.5000000000000004, 0, 0.8660254037844384), z_dir=(0, -1, 0))):
        with BuildLine():
            Line((50, -130.766968306), (50, -175))
            ThreePointArc((50, -175), (0, -225), (-50, -175))
            Line((-50, -175), (-50, -130.766968306))
            ThreePointArc((-50, -130.766968306), (0, -140), (50, -130.766968306))
        make_face()
    extrude(amount=-MIRROR1_COPY_2_DEPTH)

    # Mirror1 copy 3 sketch → Mirror1 copy 3 (revolve, cut)
    with BuildSketch(Plane(origin=(151.554445662, -112.5, 87.5), x_dir=(0, 0, 1), z_dir=(1, 0, 0))):
        with Locations((11.75, -16)):
            Rectangle(MIRROR1_COPY_3_SKETCH_W, MIRROR1_COPY_3_SKETCH_H)
    revolve(axis=Axis((151.554445662, -2.5, 87.5), (0, 1, 0)), mode=Mode.SUBTRACT)

    # Mirror1 copy 4 sketch → Mirror1 copy 4 (revolve, cut)
    with BuildSketch(Plane(origin=(-151.554445662, -112.5, 87.5), x_dir=(0, 0, 1), z_dir=(1, 0, 0))):
        with Locations((11.75, -16)):
            Rectangle(MIRROR1_COPY_4_SKETCH_W, MIRROR1_COPY_4_SKETCH_H)
    revolve(axis=Axis((-151.554445662, -2.5, 87.5), (0, 1, 0)), mode=Mode.SUBTRACT)


solid = part.part
